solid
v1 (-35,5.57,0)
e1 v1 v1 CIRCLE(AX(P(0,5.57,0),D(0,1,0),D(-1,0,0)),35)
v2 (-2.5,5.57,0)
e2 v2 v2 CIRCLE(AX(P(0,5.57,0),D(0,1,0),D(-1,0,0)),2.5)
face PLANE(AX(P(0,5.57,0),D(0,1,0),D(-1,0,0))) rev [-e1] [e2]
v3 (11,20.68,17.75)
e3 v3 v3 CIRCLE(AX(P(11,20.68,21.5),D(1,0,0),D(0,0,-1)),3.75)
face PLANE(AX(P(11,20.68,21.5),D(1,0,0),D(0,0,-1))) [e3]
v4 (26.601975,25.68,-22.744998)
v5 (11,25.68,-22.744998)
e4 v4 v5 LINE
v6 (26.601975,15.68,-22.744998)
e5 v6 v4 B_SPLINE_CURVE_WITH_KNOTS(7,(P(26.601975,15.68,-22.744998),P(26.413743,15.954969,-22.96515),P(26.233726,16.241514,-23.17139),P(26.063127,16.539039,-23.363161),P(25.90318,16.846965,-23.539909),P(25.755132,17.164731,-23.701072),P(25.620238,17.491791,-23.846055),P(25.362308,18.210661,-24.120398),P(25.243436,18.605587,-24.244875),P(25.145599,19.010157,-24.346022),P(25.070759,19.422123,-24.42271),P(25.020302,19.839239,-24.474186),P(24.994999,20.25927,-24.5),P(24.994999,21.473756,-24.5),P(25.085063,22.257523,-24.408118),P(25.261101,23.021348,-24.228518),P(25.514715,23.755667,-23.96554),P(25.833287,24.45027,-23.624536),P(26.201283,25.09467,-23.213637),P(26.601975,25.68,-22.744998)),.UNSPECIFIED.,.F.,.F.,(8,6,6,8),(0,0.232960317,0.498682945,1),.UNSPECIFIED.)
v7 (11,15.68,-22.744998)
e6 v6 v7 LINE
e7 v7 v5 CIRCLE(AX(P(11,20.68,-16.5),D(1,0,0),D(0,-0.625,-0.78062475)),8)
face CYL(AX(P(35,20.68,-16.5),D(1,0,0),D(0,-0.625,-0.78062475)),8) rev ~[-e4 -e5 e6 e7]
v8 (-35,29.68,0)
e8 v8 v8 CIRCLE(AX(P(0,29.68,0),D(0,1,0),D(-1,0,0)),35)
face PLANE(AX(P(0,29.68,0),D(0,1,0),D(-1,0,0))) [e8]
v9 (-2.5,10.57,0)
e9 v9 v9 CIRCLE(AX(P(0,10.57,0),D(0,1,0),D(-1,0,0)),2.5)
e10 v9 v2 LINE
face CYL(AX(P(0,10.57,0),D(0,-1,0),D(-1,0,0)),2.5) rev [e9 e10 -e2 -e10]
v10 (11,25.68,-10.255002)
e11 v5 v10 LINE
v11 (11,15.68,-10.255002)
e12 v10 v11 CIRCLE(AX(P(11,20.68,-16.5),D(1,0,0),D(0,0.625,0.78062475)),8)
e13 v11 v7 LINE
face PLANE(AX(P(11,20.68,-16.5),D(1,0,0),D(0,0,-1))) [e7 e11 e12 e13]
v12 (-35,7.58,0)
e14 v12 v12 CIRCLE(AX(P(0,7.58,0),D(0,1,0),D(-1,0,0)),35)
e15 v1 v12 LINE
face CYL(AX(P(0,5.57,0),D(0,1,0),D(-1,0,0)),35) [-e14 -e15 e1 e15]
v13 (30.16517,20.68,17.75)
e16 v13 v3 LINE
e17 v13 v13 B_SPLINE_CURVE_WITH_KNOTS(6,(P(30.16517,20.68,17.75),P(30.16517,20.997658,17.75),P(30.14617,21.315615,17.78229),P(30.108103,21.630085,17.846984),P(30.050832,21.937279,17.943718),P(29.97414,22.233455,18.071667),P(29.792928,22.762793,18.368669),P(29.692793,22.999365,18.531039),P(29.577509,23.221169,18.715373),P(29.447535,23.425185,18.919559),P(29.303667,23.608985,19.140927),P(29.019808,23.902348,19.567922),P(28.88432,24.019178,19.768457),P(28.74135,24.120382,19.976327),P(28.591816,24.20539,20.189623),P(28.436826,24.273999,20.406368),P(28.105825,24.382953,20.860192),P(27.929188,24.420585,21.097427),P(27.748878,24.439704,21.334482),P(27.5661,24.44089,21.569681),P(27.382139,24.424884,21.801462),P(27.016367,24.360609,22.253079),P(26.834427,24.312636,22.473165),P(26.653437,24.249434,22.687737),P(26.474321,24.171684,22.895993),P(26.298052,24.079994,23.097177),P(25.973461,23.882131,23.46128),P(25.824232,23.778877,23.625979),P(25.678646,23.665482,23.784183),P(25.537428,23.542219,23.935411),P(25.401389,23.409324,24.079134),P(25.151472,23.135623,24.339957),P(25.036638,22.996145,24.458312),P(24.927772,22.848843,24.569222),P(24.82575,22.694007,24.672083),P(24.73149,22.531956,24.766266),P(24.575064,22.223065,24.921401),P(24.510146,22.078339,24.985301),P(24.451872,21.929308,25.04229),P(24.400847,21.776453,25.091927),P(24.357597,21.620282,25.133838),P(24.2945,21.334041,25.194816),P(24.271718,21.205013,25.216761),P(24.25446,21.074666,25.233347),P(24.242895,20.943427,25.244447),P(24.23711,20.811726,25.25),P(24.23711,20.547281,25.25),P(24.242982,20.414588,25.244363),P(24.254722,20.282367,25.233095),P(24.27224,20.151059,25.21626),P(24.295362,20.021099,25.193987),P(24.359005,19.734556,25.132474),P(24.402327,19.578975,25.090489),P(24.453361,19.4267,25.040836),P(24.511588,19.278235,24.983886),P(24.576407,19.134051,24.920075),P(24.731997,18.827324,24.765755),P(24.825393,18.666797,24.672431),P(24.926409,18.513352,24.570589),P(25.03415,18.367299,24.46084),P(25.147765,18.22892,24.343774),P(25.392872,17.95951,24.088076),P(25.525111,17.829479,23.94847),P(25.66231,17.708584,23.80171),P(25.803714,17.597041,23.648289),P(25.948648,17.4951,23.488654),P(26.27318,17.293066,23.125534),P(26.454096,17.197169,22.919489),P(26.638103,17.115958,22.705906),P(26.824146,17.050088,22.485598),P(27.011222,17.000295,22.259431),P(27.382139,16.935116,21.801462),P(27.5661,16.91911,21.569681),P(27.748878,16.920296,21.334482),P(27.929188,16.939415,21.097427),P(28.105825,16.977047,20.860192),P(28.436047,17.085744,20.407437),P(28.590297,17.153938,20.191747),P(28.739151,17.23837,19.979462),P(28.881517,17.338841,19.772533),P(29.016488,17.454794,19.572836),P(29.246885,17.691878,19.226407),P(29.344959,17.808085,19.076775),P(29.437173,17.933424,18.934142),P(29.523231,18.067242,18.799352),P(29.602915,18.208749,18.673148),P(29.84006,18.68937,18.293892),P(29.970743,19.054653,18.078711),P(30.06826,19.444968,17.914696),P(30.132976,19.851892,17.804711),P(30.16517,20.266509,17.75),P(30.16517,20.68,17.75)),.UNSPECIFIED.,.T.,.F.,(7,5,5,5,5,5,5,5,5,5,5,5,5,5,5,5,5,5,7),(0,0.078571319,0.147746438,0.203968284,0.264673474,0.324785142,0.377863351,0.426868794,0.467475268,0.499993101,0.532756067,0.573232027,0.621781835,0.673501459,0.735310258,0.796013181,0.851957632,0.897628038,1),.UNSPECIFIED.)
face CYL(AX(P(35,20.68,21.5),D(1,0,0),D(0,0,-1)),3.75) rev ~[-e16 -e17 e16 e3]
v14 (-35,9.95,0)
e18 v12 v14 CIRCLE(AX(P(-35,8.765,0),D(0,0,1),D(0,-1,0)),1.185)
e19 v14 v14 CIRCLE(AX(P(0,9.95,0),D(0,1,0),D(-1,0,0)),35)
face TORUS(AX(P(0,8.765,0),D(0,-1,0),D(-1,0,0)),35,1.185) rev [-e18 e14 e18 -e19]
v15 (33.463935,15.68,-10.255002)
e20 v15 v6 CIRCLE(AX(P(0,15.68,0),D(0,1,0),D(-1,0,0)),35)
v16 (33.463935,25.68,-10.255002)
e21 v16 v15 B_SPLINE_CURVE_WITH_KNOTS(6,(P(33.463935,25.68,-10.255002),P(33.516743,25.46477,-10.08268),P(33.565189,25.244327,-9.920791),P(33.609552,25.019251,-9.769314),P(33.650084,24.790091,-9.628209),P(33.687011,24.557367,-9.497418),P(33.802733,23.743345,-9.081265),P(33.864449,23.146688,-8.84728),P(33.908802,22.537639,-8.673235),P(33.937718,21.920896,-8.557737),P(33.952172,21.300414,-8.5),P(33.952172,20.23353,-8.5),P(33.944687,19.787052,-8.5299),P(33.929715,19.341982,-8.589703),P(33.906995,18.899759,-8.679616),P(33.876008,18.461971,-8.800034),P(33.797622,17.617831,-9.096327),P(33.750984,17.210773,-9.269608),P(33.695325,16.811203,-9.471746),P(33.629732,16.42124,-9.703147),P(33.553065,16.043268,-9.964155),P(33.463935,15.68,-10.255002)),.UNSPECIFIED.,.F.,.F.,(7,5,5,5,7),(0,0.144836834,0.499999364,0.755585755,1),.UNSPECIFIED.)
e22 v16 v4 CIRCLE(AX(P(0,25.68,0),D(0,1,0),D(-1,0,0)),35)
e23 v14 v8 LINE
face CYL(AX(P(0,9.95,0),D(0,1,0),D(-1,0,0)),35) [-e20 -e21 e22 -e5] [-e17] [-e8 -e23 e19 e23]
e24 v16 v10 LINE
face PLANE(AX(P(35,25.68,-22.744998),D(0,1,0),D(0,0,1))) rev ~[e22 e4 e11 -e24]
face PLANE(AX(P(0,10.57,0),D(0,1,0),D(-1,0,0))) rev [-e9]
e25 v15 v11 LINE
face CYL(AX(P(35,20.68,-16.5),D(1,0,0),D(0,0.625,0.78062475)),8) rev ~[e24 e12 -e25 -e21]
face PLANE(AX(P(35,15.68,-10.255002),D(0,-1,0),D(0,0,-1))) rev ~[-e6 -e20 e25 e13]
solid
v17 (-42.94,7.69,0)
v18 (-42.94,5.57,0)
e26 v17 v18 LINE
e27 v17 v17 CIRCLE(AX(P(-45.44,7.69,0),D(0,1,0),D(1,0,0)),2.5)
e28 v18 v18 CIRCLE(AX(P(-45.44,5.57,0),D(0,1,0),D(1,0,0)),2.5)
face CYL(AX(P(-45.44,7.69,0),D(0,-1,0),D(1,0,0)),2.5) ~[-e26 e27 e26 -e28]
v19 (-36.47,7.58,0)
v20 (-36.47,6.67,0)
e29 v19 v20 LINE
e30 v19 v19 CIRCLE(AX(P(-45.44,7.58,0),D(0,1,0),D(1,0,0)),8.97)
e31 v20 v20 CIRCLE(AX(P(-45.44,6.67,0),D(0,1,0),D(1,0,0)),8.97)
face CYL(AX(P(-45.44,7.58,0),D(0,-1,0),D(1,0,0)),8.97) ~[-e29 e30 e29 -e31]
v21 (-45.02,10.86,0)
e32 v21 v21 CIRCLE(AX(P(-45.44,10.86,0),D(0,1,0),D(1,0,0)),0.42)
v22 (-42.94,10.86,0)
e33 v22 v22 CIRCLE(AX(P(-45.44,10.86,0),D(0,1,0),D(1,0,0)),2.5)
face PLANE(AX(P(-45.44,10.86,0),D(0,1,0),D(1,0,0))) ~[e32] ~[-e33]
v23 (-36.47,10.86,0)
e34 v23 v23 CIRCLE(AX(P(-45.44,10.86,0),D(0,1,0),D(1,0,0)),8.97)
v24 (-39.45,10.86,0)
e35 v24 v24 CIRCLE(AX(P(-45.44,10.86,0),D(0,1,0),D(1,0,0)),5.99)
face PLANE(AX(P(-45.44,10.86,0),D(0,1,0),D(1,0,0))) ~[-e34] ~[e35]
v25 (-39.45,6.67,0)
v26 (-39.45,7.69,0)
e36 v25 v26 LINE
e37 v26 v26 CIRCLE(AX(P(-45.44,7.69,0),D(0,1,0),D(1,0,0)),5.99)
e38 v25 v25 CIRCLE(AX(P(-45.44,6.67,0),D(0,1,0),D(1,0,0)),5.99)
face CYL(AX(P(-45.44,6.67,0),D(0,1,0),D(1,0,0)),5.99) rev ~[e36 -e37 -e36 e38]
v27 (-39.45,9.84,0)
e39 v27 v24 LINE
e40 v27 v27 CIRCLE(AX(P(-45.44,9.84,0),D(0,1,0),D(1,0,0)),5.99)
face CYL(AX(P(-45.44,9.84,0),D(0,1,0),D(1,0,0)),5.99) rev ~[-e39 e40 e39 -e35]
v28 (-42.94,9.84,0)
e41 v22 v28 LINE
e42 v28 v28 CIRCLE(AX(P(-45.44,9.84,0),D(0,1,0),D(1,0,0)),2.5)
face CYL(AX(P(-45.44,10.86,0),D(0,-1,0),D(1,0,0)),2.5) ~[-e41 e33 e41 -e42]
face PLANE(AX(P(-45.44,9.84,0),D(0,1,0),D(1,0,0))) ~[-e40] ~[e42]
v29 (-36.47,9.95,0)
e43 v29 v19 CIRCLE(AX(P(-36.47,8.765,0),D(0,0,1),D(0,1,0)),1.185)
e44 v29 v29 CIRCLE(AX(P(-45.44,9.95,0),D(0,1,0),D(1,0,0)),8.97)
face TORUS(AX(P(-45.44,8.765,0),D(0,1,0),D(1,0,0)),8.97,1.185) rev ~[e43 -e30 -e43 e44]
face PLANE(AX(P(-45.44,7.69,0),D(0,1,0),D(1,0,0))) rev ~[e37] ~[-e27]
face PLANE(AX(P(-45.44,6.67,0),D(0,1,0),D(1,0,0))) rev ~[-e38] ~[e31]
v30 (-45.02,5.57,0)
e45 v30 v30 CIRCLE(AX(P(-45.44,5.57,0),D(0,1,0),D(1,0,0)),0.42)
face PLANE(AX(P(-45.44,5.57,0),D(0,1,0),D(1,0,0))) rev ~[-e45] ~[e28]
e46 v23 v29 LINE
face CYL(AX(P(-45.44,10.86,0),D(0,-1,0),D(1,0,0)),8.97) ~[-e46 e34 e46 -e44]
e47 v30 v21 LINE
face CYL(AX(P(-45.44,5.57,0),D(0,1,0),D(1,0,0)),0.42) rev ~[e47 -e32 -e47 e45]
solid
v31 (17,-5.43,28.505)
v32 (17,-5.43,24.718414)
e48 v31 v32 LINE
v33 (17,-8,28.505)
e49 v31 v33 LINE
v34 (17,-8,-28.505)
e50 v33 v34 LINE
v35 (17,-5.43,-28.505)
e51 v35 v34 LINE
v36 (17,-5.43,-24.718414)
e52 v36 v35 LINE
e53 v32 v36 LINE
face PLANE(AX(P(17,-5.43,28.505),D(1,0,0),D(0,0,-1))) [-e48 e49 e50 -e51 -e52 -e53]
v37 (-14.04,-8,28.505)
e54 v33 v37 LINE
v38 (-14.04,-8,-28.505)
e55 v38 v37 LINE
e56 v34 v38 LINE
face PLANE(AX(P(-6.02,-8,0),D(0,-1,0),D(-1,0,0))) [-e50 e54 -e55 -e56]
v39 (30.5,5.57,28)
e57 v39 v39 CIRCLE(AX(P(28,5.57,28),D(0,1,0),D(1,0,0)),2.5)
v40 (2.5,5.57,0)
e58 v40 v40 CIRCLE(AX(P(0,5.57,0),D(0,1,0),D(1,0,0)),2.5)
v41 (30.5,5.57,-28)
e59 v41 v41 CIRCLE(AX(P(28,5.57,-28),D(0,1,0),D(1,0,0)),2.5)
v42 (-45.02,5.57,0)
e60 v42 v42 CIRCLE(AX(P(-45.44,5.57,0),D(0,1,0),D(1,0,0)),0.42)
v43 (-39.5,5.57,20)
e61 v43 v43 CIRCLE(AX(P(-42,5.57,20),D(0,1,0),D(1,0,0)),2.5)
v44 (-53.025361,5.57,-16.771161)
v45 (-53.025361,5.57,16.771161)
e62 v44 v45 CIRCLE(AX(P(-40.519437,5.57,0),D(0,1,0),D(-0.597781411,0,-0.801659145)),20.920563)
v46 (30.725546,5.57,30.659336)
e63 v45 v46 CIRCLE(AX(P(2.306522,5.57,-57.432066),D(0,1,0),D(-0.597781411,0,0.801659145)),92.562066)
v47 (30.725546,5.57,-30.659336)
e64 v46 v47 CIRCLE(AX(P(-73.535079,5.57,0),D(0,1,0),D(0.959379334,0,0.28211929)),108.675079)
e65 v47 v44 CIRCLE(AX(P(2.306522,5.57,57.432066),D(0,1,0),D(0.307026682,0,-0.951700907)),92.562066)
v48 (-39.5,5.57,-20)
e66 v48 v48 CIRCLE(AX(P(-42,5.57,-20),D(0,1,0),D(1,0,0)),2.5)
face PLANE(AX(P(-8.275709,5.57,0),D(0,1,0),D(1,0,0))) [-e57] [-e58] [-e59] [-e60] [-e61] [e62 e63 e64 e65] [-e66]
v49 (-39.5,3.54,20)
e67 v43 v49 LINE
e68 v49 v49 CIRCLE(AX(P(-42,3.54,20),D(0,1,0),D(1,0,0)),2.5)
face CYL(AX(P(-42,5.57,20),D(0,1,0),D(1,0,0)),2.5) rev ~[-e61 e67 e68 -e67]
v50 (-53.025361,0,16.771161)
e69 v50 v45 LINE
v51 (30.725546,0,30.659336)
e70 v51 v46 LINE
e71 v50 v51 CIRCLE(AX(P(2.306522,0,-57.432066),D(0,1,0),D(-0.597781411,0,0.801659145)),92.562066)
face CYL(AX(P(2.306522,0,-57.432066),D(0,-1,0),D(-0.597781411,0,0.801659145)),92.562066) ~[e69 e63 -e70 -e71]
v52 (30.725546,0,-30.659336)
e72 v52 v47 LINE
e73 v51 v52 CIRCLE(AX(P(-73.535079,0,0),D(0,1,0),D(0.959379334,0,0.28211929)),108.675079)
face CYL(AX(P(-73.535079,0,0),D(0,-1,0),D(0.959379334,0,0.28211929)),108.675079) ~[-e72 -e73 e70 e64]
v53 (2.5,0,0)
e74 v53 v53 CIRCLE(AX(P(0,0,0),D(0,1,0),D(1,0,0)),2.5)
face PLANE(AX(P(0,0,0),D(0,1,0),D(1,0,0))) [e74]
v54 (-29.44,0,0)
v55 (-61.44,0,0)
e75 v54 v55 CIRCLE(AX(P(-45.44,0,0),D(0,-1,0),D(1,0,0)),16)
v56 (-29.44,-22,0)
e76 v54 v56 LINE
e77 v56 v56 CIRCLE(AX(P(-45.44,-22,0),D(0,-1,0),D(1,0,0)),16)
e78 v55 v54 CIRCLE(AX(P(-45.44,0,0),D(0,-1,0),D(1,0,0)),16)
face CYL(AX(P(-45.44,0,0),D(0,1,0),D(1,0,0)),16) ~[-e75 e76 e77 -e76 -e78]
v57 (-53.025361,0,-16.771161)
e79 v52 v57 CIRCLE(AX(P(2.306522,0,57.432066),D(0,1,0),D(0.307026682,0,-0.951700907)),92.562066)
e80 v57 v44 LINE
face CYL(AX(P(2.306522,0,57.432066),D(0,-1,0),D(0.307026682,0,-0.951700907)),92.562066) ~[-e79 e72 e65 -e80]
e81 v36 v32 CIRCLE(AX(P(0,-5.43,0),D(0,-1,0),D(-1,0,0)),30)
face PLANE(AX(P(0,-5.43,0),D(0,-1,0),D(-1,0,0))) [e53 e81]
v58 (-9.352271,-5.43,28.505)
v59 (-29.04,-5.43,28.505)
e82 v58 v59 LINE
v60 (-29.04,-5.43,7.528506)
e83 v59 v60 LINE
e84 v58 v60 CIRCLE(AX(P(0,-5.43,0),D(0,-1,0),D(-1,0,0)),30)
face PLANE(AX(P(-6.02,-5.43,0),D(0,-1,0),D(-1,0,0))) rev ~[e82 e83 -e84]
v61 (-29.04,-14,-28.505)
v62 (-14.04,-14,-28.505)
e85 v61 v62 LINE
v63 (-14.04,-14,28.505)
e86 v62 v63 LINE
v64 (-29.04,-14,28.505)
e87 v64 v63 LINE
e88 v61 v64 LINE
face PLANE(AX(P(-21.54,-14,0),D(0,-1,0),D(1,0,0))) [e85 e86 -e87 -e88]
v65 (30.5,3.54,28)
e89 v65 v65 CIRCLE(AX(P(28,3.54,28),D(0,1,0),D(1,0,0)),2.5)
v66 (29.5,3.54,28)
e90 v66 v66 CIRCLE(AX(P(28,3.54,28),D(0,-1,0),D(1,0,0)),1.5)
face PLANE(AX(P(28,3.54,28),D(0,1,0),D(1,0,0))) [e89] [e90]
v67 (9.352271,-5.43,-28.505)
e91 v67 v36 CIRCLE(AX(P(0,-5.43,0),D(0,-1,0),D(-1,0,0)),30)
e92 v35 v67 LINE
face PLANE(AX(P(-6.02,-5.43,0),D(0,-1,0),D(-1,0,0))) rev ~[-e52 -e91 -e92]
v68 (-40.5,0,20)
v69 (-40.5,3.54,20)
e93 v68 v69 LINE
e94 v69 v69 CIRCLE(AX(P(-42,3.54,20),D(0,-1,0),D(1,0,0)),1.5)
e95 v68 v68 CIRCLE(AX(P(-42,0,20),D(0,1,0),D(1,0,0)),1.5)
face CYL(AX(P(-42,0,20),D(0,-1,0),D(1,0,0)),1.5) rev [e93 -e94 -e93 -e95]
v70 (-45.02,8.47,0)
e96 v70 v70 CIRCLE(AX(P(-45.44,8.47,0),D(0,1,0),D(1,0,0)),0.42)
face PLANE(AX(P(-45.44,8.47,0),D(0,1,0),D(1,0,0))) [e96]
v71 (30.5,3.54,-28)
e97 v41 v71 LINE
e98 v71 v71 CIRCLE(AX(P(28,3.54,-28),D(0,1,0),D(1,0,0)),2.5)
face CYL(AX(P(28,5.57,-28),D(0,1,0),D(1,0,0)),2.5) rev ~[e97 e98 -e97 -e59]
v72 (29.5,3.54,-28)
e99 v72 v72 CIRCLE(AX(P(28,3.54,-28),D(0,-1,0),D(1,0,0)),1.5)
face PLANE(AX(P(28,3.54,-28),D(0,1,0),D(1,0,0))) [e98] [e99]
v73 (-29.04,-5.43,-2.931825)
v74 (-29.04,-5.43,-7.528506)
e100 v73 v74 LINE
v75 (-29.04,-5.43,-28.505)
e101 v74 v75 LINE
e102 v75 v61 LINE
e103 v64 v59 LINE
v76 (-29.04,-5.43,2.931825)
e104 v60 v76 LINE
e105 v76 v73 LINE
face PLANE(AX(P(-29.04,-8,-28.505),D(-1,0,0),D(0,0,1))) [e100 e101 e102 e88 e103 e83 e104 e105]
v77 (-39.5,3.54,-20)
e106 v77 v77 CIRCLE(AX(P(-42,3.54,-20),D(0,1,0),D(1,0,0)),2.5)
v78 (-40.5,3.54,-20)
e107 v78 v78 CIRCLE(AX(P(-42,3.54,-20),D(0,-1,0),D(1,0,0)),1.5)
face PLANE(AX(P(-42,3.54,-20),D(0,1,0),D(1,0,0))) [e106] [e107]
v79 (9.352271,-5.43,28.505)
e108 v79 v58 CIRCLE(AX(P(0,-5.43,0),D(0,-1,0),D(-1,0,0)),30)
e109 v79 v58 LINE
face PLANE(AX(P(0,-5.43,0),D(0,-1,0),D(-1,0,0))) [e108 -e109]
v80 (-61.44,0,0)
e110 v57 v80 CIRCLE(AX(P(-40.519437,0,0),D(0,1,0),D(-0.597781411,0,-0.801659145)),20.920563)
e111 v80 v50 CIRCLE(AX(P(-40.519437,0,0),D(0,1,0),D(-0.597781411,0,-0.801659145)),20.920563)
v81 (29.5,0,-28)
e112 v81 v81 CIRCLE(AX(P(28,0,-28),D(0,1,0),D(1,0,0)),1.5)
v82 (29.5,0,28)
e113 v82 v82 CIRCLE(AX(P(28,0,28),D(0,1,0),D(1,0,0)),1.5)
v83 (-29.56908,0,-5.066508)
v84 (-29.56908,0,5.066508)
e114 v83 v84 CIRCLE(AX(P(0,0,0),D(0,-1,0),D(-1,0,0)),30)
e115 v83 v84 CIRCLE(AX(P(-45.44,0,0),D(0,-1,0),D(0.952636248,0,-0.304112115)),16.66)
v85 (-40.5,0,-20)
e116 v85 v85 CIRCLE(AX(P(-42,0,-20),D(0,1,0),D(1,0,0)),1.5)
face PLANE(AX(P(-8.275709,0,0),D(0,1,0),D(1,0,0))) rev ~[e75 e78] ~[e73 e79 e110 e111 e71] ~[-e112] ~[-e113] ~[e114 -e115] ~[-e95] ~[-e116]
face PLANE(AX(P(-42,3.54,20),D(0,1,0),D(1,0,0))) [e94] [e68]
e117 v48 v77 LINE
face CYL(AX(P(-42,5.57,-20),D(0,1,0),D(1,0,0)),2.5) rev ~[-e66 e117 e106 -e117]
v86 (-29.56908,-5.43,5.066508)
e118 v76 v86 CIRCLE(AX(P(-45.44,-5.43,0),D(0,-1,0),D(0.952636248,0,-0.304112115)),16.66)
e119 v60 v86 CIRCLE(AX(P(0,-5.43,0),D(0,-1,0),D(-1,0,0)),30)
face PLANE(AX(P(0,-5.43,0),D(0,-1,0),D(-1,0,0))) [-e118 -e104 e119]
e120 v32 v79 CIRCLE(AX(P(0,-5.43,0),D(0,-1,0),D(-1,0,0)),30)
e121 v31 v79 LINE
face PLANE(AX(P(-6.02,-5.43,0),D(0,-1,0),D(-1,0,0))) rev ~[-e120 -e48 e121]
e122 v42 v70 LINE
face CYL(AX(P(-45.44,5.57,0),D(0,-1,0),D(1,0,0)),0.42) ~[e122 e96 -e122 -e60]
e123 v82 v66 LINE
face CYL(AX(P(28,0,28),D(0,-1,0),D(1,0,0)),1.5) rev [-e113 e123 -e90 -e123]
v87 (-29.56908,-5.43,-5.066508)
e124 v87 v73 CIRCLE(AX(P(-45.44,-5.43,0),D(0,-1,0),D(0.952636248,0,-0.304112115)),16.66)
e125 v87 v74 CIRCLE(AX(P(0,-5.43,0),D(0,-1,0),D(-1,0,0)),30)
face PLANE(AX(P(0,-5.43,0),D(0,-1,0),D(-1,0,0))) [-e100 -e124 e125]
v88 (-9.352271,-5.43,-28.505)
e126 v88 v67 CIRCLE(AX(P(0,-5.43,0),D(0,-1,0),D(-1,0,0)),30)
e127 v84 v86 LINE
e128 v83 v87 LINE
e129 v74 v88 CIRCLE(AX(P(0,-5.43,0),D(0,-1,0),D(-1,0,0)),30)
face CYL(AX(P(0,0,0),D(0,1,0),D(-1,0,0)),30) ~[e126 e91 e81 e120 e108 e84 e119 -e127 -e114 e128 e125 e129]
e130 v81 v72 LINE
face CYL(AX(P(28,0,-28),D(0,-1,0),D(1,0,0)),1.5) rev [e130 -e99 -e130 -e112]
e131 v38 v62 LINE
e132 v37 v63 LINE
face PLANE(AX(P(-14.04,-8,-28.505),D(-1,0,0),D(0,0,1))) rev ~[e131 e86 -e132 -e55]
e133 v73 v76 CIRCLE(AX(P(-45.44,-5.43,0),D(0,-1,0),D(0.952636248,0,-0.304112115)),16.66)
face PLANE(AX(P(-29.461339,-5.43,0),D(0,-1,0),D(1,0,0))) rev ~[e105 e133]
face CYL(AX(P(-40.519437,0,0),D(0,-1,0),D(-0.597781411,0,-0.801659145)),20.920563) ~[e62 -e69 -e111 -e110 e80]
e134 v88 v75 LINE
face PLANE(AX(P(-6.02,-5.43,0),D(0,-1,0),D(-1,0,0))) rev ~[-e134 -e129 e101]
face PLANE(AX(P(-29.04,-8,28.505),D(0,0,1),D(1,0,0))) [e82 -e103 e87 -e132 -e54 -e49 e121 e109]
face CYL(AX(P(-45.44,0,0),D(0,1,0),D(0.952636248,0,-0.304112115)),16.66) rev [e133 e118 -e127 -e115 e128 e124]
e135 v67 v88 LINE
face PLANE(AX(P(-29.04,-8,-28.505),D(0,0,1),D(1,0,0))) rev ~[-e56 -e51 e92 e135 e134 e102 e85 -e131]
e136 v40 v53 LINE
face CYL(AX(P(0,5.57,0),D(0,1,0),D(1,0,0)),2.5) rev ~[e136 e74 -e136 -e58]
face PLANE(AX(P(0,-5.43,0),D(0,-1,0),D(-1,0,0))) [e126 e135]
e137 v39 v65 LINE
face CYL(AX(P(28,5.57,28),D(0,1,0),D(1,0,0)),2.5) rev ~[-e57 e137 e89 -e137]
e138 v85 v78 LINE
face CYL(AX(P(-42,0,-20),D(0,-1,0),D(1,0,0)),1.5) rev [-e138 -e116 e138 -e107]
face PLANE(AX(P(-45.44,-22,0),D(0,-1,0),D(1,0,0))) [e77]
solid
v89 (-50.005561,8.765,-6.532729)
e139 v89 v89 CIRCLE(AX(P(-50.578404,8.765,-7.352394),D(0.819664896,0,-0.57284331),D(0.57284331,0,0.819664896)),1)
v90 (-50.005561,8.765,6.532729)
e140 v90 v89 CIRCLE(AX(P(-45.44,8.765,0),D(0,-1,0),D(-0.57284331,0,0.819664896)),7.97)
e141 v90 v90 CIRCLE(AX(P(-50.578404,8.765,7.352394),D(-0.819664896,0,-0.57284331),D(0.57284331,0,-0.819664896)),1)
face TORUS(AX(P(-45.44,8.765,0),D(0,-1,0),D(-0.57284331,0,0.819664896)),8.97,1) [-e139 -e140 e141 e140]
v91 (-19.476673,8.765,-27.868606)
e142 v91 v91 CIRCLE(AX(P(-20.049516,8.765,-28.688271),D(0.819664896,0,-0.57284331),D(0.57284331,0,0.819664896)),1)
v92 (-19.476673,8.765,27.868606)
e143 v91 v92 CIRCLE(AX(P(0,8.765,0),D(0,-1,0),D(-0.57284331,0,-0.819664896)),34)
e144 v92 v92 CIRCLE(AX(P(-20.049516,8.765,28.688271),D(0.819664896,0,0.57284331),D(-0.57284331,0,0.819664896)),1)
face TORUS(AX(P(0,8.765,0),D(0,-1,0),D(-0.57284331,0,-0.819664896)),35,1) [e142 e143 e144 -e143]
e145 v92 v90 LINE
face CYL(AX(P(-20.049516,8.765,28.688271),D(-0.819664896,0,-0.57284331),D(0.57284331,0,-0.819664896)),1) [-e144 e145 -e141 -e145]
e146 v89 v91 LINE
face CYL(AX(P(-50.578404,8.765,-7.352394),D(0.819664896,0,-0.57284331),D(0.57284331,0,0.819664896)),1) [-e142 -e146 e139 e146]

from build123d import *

# Parameters (mm, degrees)
SKETCH1_R           = 1.5
BOSS_EXTRUDE1_DEPTH = 5.57
SKETCH17_R          = 2.5
CUT_EXTRUDE3_DEPTH  = 2.03
SKETCH3_R           = 30
BOSS_EXTRUDE2_DEPTH = 5.43
SKETCH6_W           = 46.04
SKETCH6_H           = 57.01
BOSS_EXTRUDE3_DEPTH = 2.57
SKETCH7_W           = 15
SKETCH7_H           = 57.01
BOSS_EXTRUDE4_DEPTH = 6
CUT_EXTRUDE1_DEPTH  = 5.43
SKETCH9_R           = 16
BOSS_EXTRUDE5_DEPTH = 22
SKETCH10_R          = 0.42
BOSS_EXTRUDE6_DEPTH = 2.9
SKETCH14_R          = 2.5
CUT_EXTRUDE2_DEPTH  = 5.57
SKETCH18_R          = 3.75
CUT_EXTRUDE4_DEPTH  = 24
SKETCH21_R          = 1


with BuildPart() as part:
    # Sketch1 → Boss-Extrude1 (new body)
    with BuildSketch(Plane(origin=(0, 0, 0), x_dir=(1, 0, 0), z_dir=(0, 1, 0))):
        with BuildLine():
            ThreePointArc((-53.025360678, 16.771160637), (-61.44, 0), (-53.025360678, -16.771160637))
            ThreePointArc((-53.025360678, -16.771160637), (-12.835995869, -33.882994203), (30.725545893, -30.659336164))
            ThreePointArc((30.725545893, -30.659336164), (35.14, 0), (30.725545893, 30.659336164))
            ThreePointArc((30.725545893, 30.659336164), (-12.835995869, 33.882994203), (-53.025360678, 16.771160637))
        make_face()
        with Locations((28, -28)):
            Circle(SKETCH1_R, mode=Mode.SUBTRACT)
        with Locations((-42, -20)):
            Circle(SKETCH1_R, mode=Mode.SUBTRACT)
        with Locations((-42, 20)):
            Circle(SKETCH1_R, mode=Mode.SUBTRACT)
        with Locations((28, 28)):
            Circle(SKETCH1_R, mode=Mode.SUBTRACT)
    extrude(amount=BOSS_EXTRUDE1_DEPTH)

    # Sketch17 → Cut-Extrude3 (cut)
    with BuildSketch(Plane(origin=(0, 5.57, 0), x_dir=(1, 0, 0), z_dir=(0, 1, 0))):
        with Locations((-42, 20)):
            Circle(SKETCH17_R)
        with Locations((28, 28)):
            Circle(SKETCH17_R)
        with Locations((28, -28)):
            Circle(SKETCH17_R)
        with Locations((-42, -20)):
            Circle(SKETCH17_R)
    extrude(amount=-CUT_EXTRUDE3_DEPTH, mode=Mode.SUBTRACT)

    # Sketch3 → Boss-Extrude2 (add)
    with BuildSketch(Plane(origin=(0, 0, 0), x_dir=(-1, 0, 0), z_dir=(0, -1, 0))):
        Circle(SKETCH3_R)
    extrude(amount=BOSS_EXTRUDE2_DEPTH)

    # Sketch6 → Boss-Extrude3 (add)
    with BuildSketch(Plane(origin=(0, -5.43, 0), x_dir=(-1, 0, 0), z_dir=(0, -1, 0))):
        with Locations((6.02, 0)):
            Rectangle(SKETCH6_W, SKETCH6_H)
    extrude(amount=BOSS_EXTRUDE3_DEPTH)

    # Sketch7 → Boss-Extrude4 (add)
    with BuildSketch(Plane.XZ.offset(8)):
        with Locations((-21.54, 0)):
            Rectangle(SKETCH7_W, SKETCH7_H)
    extrude(amount=BOSS_EXTRUDE4_DEPTH)

    # Sketch8 → Cut-Extrude1 (cut)
    with BuildSketch(Plane.XZ):
        with BuildLine():
            ThreePointArc((-29.569080106, 5.066507841), (-30, 0), (-29.569080106, -5.066507841))
            ThreePointArc((-29.569080106, -5.066507841), (-28.78, 0), (-29.569080106, 5.066507841))
        make_face()
    extrude(amount=CUT_EXTRUDE1_DEPTH, mode=Mode.SUBTRACT)

    # Sketch9 → Boss-Extrude5 (add)
    with BuildSketch(Plane.XZ):
        with Locations((-45.44, 0)):
            Circle(SKETCH9_R)
    extrude(amount=BOSS_EXTRUDE5_DEPTH)

    # Sketch10 → Boss-Extrude6 (add)
    with BuildSketch(Plane(origin=(0, 5.57, 0), x_dir=(1, 0, 0), z_dir=(0, 1, 0))):
        with Locations((-45.44, 0)):
            Circle(SKETCH10_R)
    extrude(amount=BOSS_EXTRUDE6_DEPTH)

    # Sketch14 → Cut-Extrude2 (cut)
    with BuildSketch(Plane(origin=(0, 5.57, 0), x_dir=(1, 0, 0), z_dir=(0, 1, 0))):
        Circle(SKETCH14_R)
    extrude(amount=-CUT_EXTRUDE2_DEPTH, mode=Mode.SUBTRACT)


with BuildPart() as body_2:
    # Sketch13 → Revolve1 (revolve)
    with BuildSketch(Plane.XY):
        with BuildLine():
            Line((-45.02, 5.57), (-45.02, 10.86))
            Line((-45.02, 10.86), (-42.94, 10.86))
            Line((-42.94, 10.86), (-42.94, 9.84))
            Line((-42.94, 9.84), (-39.45, 9.84))
            Line((-39.45, 9.84), (-39.45, 10.86))
            Line((-39.45, 10.86), (-36.47, 10.86))
            Line((-36.47, 10.86), (-36.47, 9.95))
            ThreePointArc((-36.47, 9.95), (-37.655, 8.765), (-36.47, 7.58))
            Line((-36.47, 7.58), (-36.47, 6.67))
            Line((-36.47, 6.67), (-39.45, 6.67))
            Line((-39.45, 6.67), (-39.45, 7.69))
            Line((-39.45, 7.69), (-42.94, 7.69))
            Line((-42.94, 7.69), (-42.94, 5.57))
            Line((-42.94, 5.57), (-45.02, 5.57))
        make_face()
    revolve(axis=Axis((-45.44, 5.57, 0), (0, 1, 0)))


with BuildPart() as body_3:
    # Sketch16 → Revolve2 (revolve)
    with BuildSketch(Plane.XY):
        with BuildLine():
            Line((0, 29.68), (0, 10.57))
            Line((0, 10.57), (-2.5, 10.57))
            Line((-2.5, 10.57), (-2.5, 5.57))
            Line((-2.5, 5.57), (-35, 5.57))
            Line((-35, 5.57), (-35, 7.58))
            ThreePointArc((-35, 7.58), (-33.815, 8.765), (-35, 9.95))
            Line((-35, 9.95), (-35, 29.68))
            Line((-35, 29.68), (0, 29.68))
        make_face()
    revolve(axis=Axis((0, 5.57, 0), (0, 1, 0)))

    # Sketch18 → Cut-Extrude4 (cut)
    with BuildSketch(Plane(origin=(35, 0, 0), x_dir=(0, 0, -1), z_dir=(1, 0, 0))):
        with Locations((-21.5, 20.68)):
            Circle(SKETCH18_R)
        with BuildLine():
            Line((22.744997998, 25.68), (10.255002002, 25.68))
            ThreePointArc((10.255002002, 25.68), (8.5, 20.68), (10.255002002, 15.68))
            Line((10.255002002, 15.68), (22.744997998, 15.68))
            ThreePointArc((22.744997998, 15.68), (24.5, 20.68), (22.744997998, 25.68))
        make_face()
    extrude(amount=-CUT_EXTRUDE4_DEPTH, mode=Mode.SUBTRACT)


with BuildPart() as body_4:
    # Sweep1: sweep along a path in Sketch19
    with BuildLine(Plane(origin=(0, 8.765, 0), x_dir=(1, 0, 0), z_dir=(0, 1, 0))) as sweep1_path:
        Line((-50.578404489, 7.35239412), (-20.049515845, 28.688271373))
        ThreePointArc((-20.049515845, 28.688271373), (35, 0), (-20.049515845, -28.688271373))
        Line((-20.049515845, -28.688271373), (-50.578404489, -7.35239412))
        ThreePointArc((-50.578404489, -7.35239412), (-54.41, 0), (-50.578404489, 7.35239412))
    # Sketch21 → Sweep1 (sweep)
    with BuildSketch(Plane.XY):
        with Locations((-54.41, 8.765)):
            Circle(SKETCH21_R)
    sweep(path=sweep1_path.line)


solid = Compound([part.part, body_2.part, body_3.part, body_4.part])
